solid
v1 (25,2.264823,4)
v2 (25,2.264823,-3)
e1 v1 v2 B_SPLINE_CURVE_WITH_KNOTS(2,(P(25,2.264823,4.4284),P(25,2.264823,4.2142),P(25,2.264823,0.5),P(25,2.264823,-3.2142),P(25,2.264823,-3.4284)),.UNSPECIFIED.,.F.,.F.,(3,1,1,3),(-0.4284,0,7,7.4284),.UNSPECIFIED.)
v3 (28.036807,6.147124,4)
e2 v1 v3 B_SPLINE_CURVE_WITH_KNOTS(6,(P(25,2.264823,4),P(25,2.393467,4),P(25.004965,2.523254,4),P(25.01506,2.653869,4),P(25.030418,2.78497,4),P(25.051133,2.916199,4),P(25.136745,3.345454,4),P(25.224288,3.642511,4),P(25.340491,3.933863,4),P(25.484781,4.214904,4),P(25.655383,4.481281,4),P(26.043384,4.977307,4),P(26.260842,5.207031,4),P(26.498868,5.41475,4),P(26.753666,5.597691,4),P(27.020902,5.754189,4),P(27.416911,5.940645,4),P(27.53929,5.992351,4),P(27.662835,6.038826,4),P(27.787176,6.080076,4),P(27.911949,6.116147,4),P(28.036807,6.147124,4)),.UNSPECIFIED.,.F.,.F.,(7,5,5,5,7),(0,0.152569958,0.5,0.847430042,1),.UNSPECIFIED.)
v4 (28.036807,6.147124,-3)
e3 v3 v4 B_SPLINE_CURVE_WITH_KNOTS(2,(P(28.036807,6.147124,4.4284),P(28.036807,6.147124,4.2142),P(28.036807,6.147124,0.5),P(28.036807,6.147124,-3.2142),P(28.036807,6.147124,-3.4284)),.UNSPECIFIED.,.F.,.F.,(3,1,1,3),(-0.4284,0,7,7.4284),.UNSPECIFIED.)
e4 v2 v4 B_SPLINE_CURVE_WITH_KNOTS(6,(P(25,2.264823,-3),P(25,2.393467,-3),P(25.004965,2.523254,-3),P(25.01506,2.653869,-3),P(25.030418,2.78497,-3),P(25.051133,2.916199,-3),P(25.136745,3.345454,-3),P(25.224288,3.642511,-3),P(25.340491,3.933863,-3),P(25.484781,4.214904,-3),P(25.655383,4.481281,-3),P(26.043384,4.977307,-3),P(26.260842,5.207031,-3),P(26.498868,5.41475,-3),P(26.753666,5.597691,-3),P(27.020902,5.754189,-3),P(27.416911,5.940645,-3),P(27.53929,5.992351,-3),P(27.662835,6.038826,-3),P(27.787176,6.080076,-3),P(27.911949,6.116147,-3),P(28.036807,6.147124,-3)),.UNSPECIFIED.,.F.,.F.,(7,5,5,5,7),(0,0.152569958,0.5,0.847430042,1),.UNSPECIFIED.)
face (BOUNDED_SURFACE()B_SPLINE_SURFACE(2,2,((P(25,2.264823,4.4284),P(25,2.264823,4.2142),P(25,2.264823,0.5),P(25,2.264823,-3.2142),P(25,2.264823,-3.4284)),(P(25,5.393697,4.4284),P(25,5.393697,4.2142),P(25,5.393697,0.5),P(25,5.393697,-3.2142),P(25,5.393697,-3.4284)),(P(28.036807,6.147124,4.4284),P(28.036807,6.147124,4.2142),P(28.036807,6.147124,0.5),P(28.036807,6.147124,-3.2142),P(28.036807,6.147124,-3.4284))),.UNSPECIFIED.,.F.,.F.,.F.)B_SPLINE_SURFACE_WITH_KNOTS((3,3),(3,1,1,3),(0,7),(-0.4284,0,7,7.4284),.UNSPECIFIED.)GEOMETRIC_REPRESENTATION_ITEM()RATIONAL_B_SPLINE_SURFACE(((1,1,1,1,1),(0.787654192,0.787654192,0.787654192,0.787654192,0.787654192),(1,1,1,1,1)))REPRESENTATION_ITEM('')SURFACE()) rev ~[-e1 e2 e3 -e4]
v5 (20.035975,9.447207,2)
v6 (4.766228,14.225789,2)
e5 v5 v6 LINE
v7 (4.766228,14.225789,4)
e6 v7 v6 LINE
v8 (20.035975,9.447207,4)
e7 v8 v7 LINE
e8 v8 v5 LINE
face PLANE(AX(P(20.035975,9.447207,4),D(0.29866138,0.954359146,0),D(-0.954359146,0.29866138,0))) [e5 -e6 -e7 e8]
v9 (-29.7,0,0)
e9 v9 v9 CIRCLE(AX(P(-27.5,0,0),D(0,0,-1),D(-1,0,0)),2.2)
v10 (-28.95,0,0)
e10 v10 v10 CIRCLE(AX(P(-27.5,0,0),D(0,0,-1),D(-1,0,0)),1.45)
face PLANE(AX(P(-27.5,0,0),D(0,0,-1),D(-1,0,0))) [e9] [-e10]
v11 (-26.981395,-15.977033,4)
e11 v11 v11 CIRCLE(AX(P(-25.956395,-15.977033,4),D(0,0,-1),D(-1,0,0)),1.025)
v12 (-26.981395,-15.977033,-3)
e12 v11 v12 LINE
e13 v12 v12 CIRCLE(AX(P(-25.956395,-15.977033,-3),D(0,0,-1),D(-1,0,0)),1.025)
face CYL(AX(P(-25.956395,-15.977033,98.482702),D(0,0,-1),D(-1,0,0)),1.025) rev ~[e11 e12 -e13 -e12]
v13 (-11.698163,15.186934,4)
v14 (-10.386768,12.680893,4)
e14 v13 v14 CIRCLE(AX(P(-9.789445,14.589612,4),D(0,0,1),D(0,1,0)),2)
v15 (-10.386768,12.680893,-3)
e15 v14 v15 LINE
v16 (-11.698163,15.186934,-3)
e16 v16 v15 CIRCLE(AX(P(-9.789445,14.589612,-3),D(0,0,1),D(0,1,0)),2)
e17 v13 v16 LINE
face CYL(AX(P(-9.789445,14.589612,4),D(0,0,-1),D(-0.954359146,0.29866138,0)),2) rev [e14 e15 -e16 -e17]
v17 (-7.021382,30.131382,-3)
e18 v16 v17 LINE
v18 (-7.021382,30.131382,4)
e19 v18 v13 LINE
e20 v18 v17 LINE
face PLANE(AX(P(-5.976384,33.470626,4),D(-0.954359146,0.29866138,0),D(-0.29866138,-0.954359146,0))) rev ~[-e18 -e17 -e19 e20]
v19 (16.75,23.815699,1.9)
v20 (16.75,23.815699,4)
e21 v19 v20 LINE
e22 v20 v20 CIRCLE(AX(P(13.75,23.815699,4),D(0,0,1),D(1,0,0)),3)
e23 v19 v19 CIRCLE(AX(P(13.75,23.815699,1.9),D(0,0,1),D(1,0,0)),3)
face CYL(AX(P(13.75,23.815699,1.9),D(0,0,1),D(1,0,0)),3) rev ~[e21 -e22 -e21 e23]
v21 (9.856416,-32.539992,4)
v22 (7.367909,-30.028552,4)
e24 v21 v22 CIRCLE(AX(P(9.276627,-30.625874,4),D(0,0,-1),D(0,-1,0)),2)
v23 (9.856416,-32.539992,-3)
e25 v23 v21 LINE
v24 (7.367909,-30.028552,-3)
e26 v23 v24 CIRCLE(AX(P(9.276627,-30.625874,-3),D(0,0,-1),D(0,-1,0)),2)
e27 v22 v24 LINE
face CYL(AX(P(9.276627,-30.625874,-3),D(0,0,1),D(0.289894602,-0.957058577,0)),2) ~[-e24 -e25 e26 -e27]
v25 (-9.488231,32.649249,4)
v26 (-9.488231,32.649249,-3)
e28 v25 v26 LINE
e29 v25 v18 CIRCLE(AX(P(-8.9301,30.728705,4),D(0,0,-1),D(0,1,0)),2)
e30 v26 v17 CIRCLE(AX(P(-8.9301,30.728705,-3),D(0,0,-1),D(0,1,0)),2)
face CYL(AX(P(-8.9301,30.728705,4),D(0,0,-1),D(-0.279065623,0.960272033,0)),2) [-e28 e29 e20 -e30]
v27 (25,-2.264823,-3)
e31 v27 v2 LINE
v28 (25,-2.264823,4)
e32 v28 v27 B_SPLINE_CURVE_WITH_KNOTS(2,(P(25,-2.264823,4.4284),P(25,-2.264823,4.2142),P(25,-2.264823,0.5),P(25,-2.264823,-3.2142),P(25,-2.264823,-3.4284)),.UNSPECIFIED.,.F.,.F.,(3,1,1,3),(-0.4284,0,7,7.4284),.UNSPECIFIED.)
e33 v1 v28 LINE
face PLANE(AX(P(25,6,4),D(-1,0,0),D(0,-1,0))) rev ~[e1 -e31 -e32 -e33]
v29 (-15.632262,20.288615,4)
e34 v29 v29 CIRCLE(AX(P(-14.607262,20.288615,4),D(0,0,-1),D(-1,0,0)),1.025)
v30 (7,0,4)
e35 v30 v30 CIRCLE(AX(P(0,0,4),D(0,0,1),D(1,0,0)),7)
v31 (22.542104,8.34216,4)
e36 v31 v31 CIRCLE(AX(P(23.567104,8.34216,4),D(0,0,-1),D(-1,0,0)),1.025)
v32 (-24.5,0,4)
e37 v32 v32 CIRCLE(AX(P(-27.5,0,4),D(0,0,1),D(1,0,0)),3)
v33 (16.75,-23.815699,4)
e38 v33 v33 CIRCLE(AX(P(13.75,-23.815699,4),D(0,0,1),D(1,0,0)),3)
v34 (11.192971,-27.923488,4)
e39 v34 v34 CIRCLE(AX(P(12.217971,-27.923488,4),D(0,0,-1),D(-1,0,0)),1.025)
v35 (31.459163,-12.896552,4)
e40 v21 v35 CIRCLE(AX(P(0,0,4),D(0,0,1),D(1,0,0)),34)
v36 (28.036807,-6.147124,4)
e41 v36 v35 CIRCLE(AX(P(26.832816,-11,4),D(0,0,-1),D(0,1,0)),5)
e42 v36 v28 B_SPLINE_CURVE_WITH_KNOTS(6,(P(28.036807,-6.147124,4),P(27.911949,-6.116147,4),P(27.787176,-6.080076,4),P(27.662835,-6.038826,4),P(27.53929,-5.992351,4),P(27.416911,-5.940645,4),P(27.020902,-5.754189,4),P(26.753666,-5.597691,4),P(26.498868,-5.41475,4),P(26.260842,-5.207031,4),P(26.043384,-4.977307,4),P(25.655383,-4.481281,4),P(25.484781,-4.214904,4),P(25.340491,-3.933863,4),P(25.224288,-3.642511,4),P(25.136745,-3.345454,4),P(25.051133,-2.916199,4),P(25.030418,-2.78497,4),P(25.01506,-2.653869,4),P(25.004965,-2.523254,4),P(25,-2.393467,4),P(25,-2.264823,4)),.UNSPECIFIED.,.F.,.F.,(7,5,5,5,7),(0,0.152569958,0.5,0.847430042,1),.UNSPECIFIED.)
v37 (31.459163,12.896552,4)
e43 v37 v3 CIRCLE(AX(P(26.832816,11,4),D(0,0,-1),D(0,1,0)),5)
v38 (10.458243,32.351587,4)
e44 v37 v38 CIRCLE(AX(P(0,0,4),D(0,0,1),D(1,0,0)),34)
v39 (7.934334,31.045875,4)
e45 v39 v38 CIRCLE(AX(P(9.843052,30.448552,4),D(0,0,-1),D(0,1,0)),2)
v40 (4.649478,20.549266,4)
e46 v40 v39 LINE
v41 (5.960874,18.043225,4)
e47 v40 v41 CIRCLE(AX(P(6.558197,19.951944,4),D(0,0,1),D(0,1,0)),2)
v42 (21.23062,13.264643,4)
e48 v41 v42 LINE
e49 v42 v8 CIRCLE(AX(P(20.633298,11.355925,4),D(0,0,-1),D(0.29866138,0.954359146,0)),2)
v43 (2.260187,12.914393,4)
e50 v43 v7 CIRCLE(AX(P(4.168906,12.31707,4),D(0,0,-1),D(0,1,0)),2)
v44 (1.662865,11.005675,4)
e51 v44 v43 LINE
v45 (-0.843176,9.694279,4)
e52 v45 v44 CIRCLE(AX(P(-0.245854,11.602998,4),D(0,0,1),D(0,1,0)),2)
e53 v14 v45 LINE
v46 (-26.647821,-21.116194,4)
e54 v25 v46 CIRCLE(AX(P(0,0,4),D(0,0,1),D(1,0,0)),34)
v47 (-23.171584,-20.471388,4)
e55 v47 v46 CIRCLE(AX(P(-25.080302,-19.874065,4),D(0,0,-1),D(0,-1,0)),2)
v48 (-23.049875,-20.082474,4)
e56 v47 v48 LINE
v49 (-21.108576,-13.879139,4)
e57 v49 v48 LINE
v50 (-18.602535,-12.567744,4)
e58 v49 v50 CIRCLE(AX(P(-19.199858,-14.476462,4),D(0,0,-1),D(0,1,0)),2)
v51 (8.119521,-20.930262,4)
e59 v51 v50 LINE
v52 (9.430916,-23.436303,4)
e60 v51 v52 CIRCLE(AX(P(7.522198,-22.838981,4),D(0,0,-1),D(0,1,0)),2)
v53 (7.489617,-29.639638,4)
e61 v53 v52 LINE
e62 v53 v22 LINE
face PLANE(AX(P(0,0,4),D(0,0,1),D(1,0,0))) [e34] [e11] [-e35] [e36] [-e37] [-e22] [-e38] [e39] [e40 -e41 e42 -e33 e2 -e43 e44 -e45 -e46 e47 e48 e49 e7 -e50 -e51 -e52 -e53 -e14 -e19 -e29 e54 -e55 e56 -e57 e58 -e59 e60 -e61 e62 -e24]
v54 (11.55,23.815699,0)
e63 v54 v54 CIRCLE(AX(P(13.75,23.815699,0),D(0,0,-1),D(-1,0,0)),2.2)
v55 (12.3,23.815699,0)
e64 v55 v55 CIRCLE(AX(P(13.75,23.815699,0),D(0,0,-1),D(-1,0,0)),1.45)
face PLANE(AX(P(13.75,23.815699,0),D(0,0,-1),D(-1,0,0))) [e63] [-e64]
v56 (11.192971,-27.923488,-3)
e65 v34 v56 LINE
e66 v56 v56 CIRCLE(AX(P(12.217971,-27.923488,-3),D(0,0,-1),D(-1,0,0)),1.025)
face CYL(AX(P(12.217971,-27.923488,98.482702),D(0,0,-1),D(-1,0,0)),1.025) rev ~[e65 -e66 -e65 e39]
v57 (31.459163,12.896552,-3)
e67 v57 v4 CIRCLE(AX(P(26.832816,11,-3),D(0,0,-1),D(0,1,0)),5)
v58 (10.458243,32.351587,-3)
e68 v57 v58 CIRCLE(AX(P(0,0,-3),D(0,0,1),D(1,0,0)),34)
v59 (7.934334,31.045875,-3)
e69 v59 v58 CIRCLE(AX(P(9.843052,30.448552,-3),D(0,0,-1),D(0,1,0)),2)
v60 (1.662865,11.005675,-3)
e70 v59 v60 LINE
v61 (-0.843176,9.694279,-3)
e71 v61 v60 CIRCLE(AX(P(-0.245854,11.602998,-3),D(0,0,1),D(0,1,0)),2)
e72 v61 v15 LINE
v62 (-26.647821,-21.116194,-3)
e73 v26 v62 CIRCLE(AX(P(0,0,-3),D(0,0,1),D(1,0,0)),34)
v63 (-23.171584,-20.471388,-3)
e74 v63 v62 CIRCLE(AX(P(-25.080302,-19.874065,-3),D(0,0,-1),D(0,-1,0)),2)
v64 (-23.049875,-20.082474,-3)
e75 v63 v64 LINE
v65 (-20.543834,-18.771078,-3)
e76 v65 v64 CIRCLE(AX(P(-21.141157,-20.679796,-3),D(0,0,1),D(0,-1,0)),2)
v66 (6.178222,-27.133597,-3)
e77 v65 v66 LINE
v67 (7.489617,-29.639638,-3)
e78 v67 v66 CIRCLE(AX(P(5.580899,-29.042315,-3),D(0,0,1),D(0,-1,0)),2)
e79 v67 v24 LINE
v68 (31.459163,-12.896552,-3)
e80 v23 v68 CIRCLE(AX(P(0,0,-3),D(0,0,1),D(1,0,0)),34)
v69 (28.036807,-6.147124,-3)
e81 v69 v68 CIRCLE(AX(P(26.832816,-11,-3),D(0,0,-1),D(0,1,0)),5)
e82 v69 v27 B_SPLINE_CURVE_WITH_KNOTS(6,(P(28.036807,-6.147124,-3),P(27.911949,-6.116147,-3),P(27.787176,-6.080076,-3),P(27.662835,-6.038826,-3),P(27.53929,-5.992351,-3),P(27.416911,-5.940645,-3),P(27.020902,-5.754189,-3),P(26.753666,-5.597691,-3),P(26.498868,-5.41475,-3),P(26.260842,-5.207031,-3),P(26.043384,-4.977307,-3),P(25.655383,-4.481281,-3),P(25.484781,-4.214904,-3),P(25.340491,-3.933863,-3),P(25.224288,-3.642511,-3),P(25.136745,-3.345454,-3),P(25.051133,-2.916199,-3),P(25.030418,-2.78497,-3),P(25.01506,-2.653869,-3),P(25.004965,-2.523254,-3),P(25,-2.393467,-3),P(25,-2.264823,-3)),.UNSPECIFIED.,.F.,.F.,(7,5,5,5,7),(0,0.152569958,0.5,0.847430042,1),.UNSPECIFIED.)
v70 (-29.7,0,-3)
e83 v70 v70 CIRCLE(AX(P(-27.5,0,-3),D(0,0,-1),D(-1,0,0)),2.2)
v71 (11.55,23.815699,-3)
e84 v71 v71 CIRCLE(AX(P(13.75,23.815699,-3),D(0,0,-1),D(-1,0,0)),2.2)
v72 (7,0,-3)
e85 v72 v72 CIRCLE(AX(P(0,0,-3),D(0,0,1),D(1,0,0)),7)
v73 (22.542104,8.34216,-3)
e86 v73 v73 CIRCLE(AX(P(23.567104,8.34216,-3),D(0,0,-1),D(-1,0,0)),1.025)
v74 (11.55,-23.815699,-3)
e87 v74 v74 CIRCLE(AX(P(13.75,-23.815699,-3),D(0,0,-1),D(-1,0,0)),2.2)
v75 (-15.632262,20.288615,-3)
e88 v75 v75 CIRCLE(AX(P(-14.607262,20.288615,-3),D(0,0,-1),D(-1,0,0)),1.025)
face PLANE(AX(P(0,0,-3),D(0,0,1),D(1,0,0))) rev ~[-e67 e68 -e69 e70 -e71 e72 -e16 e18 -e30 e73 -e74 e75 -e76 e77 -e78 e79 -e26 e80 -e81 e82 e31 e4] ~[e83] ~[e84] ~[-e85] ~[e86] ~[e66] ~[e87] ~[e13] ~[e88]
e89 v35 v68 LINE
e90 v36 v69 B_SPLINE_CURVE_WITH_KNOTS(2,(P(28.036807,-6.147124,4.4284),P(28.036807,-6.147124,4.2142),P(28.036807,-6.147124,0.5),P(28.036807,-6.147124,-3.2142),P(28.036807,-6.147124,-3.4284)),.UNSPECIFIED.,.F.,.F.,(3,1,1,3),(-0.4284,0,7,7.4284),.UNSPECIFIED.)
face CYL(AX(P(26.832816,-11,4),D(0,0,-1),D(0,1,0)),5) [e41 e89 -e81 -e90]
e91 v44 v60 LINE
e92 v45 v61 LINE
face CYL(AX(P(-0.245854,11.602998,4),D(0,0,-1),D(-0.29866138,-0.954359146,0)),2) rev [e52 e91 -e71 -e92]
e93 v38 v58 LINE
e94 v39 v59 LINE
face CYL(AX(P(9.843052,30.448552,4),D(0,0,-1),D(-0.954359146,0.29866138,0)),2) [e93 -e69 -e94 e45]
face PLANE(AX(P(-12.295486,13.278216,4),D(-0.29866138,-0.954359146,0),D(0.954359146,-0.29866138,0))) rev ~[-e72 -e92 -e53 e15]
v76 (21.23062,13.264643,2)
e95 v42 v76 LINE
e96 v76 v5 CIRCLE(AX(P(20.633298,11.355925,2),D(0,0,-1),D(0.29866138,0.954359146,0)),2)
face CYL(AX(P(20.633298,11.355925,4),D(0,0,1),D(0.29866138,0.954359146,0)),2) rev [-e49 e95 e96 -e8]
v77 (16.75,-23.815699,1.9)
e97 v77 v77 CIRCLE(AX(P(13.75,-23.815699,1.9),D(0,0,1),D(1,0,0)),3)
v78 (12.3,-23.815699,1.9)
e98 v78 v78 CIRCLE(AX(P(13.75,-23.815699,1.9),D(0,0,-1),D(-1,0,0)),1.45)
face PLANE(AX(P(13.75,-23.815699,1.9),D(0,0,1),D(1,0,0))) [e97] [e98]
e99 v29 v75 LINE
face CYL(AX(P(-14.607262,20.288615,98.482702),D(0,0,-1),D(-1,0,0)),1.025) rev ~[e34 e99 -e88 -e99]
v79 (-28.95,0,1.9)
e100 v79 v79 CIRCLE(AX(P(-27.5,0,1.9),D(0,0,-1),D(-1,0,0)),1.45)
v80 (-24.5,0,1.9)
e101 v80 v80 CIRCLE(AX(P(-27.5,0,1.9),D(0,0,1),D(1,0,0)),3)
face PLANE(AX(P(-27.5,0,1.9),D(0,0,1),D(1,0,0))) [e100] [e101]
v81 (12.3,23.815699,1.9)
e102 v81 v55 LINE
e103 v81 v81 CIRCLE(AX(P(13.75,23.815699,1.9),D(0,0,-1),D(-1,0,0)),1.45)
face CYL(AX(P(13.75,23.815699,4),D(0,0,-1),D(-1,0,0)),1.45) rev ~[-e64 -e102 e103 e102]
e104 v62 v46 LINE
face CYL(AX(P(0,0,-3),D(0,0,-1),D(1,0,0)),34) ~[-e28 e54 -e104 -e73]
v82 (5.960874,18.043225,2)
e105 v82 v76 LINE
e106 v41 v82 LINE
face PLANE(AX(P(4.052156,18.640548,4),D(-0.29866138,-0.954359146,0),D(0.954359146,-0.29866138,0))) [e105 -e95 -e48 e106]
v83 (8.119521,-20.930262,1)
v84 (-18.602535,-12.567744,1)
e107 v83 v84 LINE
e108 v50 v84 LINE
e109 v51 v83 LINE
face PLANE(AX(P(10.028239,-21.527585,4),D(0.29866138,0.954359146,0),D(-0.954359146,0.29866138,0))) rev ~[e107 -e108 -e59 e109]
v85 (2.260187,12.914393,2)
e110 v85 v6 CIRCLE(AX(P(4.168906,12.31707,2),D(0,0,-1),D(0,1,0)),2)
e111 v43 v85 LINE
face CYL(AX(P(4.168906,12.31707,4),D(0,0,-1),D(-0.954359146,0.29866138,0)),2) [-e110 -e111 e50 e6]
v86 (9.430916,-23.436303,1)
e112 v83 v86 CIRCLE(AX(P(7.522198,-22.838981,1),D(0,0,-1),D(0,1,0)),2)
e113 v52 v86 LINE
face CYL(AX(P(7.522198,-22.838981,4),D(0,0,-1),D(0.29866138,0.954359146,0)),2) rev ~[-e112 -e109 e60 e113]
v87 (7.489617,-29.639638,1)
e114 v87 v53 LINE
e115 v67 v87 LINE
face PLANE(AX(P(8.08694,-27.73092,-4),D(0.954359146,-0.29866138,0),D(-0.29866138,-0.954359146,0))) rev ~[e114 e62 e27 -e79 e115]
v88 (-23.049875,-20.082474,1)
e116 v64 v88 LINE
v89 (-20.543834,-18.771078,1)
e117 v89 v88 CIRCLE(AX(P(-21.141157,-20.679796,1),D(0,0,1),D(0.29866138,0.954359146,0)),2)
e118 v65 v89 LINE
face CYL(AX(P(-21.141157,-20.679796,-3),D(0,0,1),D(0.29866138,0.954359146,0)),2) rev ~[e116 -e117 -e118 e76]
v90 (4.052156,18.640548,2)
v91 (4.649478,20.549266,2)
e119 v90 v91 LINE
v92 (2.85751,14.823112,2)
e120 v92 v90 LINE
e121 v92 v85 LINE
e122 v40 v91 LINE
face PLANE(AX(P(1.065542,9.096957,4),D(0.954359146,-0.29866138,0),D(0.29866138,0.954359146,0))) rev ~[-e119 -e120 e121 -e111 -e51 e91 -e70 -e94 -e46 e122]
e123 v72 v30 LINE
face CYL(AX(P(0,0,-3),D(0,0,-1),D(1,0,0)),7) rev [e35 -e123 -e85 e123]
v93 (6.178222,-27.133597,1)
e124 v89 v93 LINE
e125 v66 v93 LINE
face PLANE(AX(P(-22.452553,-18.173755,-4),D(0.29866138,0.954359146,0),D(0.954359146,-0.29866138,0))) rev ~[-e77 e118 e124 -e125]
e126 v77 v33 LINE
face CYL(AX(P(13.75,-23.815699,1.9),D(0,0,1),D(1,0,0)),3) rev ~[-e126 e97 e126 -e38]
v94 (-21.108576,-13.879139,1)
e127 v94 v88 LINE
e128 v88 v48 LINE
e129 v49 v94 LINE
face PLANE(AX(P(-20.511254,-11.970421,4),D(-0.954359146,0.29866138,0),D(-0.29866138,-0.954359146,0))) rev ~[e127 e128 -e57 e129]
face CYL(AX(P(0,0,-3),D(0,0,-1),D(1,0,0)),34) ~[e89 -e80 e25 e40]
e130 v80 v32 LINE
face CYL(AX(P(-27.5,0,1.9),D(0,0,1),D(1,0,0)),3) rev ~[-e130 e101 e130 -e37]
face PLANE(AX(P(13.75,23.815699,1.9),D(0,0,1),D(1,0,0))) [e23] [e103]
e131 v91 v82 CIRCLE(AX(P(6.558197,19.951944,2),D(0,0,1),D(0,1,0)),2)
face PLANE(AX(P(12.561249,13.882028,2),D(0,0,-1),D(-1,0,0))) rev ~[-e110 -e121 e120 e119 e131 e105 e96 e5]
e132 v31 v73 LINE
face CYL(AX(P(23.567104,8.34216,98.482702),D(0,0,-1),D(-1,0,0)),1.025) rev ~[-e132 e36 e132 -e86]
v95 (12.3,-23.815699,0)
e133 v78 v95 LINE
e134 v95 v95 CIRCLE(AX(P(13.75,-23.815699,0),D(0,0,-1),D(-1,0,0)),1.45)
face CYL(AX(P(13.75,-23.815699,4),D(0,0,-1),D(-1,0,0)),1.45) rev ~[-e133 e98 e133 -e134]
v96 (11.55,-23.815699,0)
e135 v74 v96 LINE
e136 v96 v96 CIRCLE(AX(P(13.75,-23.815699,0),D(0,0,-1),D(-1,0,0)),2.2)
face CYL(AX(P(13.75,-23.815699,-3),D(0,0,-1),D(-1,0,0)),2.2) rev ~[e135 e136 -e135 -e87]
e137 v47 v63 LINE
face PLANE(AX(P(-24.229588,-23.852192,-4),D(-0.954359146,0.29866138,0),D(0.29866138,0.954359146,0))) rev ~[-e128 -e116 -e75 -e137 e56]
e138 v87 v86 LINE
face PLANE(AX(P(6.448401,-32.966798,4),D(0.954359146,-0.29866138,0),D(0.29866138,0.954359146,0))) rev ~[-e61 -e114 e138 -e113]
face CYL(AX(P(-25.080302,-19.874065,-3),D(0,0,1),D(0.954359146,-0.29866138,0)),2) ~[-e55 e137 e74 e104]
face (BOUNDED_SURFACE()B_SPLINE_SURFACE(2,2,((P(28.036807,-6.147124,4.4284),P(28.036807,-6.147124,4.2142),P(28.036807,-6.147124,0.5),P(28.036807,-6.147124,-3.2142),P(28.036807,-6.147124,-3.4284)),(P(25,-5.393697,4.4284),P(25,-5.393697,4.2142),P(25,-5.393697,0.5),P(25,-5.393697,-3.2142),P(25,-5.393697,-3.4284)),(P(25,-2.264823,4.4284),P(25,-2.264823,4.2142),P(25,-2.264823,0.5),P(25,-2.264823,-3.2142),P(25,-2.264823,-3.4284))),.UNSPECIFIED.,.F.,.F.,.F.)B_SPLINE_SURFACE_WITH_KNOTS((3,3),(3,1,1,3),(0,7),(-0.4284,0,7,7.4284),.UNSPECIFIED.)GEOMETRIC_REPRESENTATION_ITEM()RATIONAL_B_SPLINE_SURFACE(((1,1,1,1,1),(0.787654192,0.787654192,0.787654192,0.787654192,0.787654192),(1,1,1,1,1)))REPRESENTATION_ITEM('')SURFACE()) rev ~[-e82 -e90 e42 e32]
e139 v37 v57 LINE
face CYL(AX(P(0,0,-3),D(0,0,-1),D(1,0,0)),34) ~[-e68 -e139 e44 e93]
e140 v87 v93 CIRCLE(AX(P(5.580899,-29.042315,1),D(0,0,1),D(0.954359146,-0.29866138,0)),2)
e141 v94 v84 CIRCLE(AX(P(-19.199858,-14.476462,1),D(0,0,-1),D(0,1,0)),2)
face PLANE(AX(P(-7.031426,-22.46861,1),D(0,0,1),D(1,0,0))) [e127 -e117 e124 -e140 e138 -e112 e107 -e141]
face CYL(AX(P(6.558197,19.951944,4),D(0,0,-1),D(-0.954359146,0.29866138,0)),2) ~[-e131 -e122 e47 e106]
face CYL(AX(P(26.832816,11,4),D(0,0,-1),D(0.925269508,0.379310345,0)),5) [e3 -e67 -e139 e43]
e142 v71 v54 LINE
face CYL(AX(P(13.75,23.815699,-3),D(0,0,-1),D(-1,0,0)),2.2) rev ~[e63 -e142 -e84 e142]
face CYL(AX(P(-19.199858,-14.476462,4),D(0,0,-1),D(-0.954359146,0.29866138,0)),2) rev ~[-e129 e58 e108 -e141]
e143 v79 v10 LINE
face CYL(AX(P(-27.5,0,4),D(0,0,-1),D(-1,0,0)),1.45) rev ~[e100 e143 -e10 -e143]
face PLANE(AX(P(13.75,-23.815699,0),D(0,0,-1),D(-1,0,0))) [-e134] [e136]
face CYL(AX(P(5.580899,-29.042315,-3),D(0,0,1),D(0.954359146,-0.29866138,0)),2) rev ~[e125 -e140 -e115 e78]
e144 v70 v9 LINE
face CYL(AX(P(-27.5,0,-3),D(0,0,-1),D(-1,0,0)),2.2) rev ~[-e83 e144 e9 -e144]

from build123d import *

# Parameters (mm, degrees)
BOSS_EXTRUDE1_DEPTH                        = 4
BOSS_EXTRUDE1_DEPTH_BACK                   = 3
SKETCH1_R                                  = 34
SKETCH1_R_2                                = 1
SKETCH1_R_3                                = 7
CUT_EXTRUDE1_REACH                         = 50.59
CUT_EXTRUDE2_REACH                         = 50.744
FILLET1_R                                  = 5
FILLET2_R                                  = 4
M2_5X0_45_TAPPED_HOLE1_D                   = 2.05
CBORE_FOR_M2_5_PAN_HEAD_SCREW1_D           = 2.9
CBORE_FOR_M2_5_PAN_HEAD_SCREW1_DEPTH       = 7
CBORE_FOR_M2_5_PAN_HEAD_SCREW1_CBORE_D     = 6
CBORE_FOR_M2_5_PAN_HEAD_SCREW1_CBORE_DEPTH = 2.1
SKETCH13_R                                 = 2.2
CUT_EXTRUDE3_DEPTH                         = 3
CUT_EXTRUDE4_REACH                         = 50.59
FILLET3_R                                  = 2
CUT_EXTRUDE5_DEPTH                         = 3
FILLET4_R                                  = 2
CUT_EXTRUDE7_DEPTH                         = 2
FILLET5_R                                  = 2


with BuildPart() as part:
    # Sketch1 → Boss-Extrude1 (new, two sides: drawn at the far end of the back side and taken through both)
    with BuildSketch(Plane.XY.offset(-BOSS_EXTRUDE1_DEPTH_BACK)):
        Circle(SKETCH1_R)
        with Locations((-27.5, 0)):
            Circle(SKETCH1_R_2, mode=Mode.SUBTRACT)
        with Locations((13.75, 23.815698604)):
            Circle(SKETCH1_R_2, mode=Mode.SUBTRACT)
        with Locations((13.75, -23.815698604)):
            Circle(SKETCH1_R_2, mode=Mode.SUBTRACT)
        Circle(SKETCH1_R_3, mode=Mode.SUBTRACT)
    extrude(amount=BOSS_EXTRUDE1_DEPTH + BOSS_EXTRUDE1_DEPTH_BACK)

    # Sketch2 → Cut-Extrude1 (cut, up to next)
    with BuildSketch(Plane.XY.offset(4), mode=Mode.PRIVATE) as cut_extrude1_sk1:
        with BuildLine():
            Line((33.466401061, 6), (25, 6))
            Line((25, 6), (25, -6))
            Line((25, -6), (33.466401061, -6))
            ThreePointArc((33.466401061, -6), (34, 0), (33.466401061, 6))
        make_face()
    cut_extrude1_tool1 = extrude(cut_extrude1_sk1.sketch, amount=-CUT_EXTRUDE1_REACH, mode=Mode.PRIVATE) & part.part
    add(cut_extrude1_tool1.solids().sort_by_distance((29.412779, 0, 4))[0], mode=Mode.SUBTRACT)

    # Sketch4 → Cut-Extrude2 (cut, up to next)
    with BuildSketch(Plane.XY.offset(-4), mode=Mode.PRIVATE) as cut_extrude2_sk1:
        with BuildLine():
            Line((-24.229587732, -23.852192317), (-22.452552523, -18.173755396))
            Line((-22.452552523, -18.173755396), (8.086940161, -27.730919545))
            Line((8.086940161, -27.730919545), (6.309904952, -33.409356466))
            ThreePointArc((6.309904952, -33.409356466), (-10.154486908, -32.448210977), (-24.229587732, -23.852192317))
        make_face()
    cut_extrude2_tool1 = extrude(cut_extrude2_sk1.sketch, amount=CUT_EXTRUDE2_REACH, mode=Mode.PRIVATE) & part.part
    add(cut_extrude2_tool1.solids().sort_by_distance((-8.498569, -27.1568, -4))[0], mode=Mode.SUBTRACT)

    # Fillet1
    fillet1_edges = [part.edges().sort_by_distance(p)[0] for p in [
        (33.466401061, 6, 0.5),
        (33.466401061, -6, 0.5),
    ]]
    fillet(fillet1_edges, radius=FILLET1_R)

    # Fillet2
    fillet2_edges = [part.edges().sort_by_distance(p)[0] for p in [
        (25, -6, 0.5),
        (25, 6, 0.5),
    ]]
    fillet(fillet2_edges, radius=FILLET2_R)

    # M2.5x0.45 Tapped Hole1 (through all)
    with Locations(Plane.XY.offset(4)):
        with Locations((-25.95639466, -15.977032774), (12.217971196, -27.92348796), (23.567103623, 8.342159603), (-14.607262233, 20.288614789)):
            Hole(M2_5X0_45_TAPPED_HOLE1_D / 2)

    # CBORE for M2.5 Pan Head Screw1
    with Locations(Plane.XY.offset(4)):
        with Locations((-27.5, 0), (13.75, 23.815698604), (13.75, -23.815698604)):
            CounterBoreHole(CBORE_FOR_M2_5_PAN_HEAD_SCREW1_D / 2, CBORE_FOR_M2_5_PAN_HEAD_SCREW1_CBORE_D / 2, CBORE_FOR_M2_5_PAN_HEAD_SCREW1_CBORE_DEPTH, depth=CBORE_FOR_M2_5_PAN_HEAD_SCREW1_DEPTH)

    # Sketch13 → Cut-Extrude3 (cut)
    with BuildSketch(Plane(origin=(0, 0, -3), x_dir=(-1, 0, 0), z_dir=(0, 0, -1))):
        with Locations((-13.75, 23.815698604)):
            Circle(SKETCH13_R)
        with Locations((27.5, 0)):
            Circle(SKETCH13_R)
        with Locations((-13.75, -23.815698604)):
            Circle(SKETCH13_R)
    extrude(amount=-CUT_EXTRUDE3_DEPTH, mode=Mode.SUBTRACT)

    # Sketch14 → Cut-Extrude4 (cut, up to next)
    with BuildSketch(Plane.XY.offset(4), mode=Mode.PRIVATE) as cut_extrude4_sk1:
        with BuildLine():
            Line((-5.976383774, 33.47062648), (-12.295486181, 13.278215978))
            Line((-12.295486181, 13.278215978), (1.065541868, 9.096956663))
            Line((1.065541868, 9.096956663), (8.519375308, 32.915349677))
            ThreePointArc((8.519375308, 32.915349677), (1.301454789, 33.975082273), (-5.976383774, 33.47062648))
        make_face()
    cut_extrude4_tool1 = extrude(cut_extrude4_sk1.sketch, amount=-CUT_EXTRUDE4_REACH, mode=Mode.PRIVATE) & part.part
    add(cut_extrude4_tool1.solids().sort_by_distance((-1.905533, 22.418355, 4))[0], mode=Mode.SUBTRACT)

    # Fillet3
    fillet3_edges = [part.edges().sort_by_distance(p)[0] for p in [
        (-5.976383774, 33.47062648, 0.5),
        (8.519375308, 32.915349677, 0.5),
        (1.065541868, 9.096956663, 0.5),
        (-12.295486181, 13.278215978, 0.5),
        (-24.229587732, -23.852192317, 0.5),
        (6.309904952, -33.409356466, 0.5),
        (8.086940161, -27.730919545, 0.5),
        (-22.452552523, -18.173755396, 0.5),
    ]]
    fillet(fillet3_edges, radius=FILLET3_R)

    # Sketch15 → Cut-Extrude5 (cut)
    with BuildSketch(Plane.XY.offset(4)):
        Polygon((6.448401058, -32.966798325), (10.028239129, -21.527585094), (-20.511253555, -11.970420945), (-24.091091627, -23.409634176), align=None)
    extrude(amount=-CUT_EXTRUDE5_DEPTH, mode=Mode.SUBTRACT)

    # Fillet4
    fillet4_edges = [part.edges().sort_by_distance(p)[0] for p in [
        (10.028239129, -21.527585094, 2.5),
        (-20.511253555, -11.970420945, 2.5),
    ]]
    fillet(fillet4_edges, radius=FILLET4_R)

    # Sketch16 → Cut-Extrude7 (cut)
    with BuildSketch(Plane.XY.offset(4)):
        with BuildLine():
            Line((20.035974781, 9.447206707), (2.857510146, 14.823111541))
            Line((2.857510146, 14.823111541), (4.052155665, 18.640548127))
            Line((4.052155665, 18.640548127), (21.2306203, 13.264643293))
            ThreePointArc((21.2306203, 13.264643293), (22.542015833, 10.758602241), (20.035974781, 9.447206707))
        make_face()
    extrude(amount=-CUT_EXTRUDE7_DEPTH, mode=Mode.SUBTRACT)

    # Fillet5
    fillet5_edges = [part.edges().sort_by_distance(p)[0] for p in [
        (2.857510146, 14.823111541, 3),
        (4.052155665, 18.640548127, 3),
    ]]
    fillet(fillet5_edges, radius=FILLET5_R)


solid = part.part
